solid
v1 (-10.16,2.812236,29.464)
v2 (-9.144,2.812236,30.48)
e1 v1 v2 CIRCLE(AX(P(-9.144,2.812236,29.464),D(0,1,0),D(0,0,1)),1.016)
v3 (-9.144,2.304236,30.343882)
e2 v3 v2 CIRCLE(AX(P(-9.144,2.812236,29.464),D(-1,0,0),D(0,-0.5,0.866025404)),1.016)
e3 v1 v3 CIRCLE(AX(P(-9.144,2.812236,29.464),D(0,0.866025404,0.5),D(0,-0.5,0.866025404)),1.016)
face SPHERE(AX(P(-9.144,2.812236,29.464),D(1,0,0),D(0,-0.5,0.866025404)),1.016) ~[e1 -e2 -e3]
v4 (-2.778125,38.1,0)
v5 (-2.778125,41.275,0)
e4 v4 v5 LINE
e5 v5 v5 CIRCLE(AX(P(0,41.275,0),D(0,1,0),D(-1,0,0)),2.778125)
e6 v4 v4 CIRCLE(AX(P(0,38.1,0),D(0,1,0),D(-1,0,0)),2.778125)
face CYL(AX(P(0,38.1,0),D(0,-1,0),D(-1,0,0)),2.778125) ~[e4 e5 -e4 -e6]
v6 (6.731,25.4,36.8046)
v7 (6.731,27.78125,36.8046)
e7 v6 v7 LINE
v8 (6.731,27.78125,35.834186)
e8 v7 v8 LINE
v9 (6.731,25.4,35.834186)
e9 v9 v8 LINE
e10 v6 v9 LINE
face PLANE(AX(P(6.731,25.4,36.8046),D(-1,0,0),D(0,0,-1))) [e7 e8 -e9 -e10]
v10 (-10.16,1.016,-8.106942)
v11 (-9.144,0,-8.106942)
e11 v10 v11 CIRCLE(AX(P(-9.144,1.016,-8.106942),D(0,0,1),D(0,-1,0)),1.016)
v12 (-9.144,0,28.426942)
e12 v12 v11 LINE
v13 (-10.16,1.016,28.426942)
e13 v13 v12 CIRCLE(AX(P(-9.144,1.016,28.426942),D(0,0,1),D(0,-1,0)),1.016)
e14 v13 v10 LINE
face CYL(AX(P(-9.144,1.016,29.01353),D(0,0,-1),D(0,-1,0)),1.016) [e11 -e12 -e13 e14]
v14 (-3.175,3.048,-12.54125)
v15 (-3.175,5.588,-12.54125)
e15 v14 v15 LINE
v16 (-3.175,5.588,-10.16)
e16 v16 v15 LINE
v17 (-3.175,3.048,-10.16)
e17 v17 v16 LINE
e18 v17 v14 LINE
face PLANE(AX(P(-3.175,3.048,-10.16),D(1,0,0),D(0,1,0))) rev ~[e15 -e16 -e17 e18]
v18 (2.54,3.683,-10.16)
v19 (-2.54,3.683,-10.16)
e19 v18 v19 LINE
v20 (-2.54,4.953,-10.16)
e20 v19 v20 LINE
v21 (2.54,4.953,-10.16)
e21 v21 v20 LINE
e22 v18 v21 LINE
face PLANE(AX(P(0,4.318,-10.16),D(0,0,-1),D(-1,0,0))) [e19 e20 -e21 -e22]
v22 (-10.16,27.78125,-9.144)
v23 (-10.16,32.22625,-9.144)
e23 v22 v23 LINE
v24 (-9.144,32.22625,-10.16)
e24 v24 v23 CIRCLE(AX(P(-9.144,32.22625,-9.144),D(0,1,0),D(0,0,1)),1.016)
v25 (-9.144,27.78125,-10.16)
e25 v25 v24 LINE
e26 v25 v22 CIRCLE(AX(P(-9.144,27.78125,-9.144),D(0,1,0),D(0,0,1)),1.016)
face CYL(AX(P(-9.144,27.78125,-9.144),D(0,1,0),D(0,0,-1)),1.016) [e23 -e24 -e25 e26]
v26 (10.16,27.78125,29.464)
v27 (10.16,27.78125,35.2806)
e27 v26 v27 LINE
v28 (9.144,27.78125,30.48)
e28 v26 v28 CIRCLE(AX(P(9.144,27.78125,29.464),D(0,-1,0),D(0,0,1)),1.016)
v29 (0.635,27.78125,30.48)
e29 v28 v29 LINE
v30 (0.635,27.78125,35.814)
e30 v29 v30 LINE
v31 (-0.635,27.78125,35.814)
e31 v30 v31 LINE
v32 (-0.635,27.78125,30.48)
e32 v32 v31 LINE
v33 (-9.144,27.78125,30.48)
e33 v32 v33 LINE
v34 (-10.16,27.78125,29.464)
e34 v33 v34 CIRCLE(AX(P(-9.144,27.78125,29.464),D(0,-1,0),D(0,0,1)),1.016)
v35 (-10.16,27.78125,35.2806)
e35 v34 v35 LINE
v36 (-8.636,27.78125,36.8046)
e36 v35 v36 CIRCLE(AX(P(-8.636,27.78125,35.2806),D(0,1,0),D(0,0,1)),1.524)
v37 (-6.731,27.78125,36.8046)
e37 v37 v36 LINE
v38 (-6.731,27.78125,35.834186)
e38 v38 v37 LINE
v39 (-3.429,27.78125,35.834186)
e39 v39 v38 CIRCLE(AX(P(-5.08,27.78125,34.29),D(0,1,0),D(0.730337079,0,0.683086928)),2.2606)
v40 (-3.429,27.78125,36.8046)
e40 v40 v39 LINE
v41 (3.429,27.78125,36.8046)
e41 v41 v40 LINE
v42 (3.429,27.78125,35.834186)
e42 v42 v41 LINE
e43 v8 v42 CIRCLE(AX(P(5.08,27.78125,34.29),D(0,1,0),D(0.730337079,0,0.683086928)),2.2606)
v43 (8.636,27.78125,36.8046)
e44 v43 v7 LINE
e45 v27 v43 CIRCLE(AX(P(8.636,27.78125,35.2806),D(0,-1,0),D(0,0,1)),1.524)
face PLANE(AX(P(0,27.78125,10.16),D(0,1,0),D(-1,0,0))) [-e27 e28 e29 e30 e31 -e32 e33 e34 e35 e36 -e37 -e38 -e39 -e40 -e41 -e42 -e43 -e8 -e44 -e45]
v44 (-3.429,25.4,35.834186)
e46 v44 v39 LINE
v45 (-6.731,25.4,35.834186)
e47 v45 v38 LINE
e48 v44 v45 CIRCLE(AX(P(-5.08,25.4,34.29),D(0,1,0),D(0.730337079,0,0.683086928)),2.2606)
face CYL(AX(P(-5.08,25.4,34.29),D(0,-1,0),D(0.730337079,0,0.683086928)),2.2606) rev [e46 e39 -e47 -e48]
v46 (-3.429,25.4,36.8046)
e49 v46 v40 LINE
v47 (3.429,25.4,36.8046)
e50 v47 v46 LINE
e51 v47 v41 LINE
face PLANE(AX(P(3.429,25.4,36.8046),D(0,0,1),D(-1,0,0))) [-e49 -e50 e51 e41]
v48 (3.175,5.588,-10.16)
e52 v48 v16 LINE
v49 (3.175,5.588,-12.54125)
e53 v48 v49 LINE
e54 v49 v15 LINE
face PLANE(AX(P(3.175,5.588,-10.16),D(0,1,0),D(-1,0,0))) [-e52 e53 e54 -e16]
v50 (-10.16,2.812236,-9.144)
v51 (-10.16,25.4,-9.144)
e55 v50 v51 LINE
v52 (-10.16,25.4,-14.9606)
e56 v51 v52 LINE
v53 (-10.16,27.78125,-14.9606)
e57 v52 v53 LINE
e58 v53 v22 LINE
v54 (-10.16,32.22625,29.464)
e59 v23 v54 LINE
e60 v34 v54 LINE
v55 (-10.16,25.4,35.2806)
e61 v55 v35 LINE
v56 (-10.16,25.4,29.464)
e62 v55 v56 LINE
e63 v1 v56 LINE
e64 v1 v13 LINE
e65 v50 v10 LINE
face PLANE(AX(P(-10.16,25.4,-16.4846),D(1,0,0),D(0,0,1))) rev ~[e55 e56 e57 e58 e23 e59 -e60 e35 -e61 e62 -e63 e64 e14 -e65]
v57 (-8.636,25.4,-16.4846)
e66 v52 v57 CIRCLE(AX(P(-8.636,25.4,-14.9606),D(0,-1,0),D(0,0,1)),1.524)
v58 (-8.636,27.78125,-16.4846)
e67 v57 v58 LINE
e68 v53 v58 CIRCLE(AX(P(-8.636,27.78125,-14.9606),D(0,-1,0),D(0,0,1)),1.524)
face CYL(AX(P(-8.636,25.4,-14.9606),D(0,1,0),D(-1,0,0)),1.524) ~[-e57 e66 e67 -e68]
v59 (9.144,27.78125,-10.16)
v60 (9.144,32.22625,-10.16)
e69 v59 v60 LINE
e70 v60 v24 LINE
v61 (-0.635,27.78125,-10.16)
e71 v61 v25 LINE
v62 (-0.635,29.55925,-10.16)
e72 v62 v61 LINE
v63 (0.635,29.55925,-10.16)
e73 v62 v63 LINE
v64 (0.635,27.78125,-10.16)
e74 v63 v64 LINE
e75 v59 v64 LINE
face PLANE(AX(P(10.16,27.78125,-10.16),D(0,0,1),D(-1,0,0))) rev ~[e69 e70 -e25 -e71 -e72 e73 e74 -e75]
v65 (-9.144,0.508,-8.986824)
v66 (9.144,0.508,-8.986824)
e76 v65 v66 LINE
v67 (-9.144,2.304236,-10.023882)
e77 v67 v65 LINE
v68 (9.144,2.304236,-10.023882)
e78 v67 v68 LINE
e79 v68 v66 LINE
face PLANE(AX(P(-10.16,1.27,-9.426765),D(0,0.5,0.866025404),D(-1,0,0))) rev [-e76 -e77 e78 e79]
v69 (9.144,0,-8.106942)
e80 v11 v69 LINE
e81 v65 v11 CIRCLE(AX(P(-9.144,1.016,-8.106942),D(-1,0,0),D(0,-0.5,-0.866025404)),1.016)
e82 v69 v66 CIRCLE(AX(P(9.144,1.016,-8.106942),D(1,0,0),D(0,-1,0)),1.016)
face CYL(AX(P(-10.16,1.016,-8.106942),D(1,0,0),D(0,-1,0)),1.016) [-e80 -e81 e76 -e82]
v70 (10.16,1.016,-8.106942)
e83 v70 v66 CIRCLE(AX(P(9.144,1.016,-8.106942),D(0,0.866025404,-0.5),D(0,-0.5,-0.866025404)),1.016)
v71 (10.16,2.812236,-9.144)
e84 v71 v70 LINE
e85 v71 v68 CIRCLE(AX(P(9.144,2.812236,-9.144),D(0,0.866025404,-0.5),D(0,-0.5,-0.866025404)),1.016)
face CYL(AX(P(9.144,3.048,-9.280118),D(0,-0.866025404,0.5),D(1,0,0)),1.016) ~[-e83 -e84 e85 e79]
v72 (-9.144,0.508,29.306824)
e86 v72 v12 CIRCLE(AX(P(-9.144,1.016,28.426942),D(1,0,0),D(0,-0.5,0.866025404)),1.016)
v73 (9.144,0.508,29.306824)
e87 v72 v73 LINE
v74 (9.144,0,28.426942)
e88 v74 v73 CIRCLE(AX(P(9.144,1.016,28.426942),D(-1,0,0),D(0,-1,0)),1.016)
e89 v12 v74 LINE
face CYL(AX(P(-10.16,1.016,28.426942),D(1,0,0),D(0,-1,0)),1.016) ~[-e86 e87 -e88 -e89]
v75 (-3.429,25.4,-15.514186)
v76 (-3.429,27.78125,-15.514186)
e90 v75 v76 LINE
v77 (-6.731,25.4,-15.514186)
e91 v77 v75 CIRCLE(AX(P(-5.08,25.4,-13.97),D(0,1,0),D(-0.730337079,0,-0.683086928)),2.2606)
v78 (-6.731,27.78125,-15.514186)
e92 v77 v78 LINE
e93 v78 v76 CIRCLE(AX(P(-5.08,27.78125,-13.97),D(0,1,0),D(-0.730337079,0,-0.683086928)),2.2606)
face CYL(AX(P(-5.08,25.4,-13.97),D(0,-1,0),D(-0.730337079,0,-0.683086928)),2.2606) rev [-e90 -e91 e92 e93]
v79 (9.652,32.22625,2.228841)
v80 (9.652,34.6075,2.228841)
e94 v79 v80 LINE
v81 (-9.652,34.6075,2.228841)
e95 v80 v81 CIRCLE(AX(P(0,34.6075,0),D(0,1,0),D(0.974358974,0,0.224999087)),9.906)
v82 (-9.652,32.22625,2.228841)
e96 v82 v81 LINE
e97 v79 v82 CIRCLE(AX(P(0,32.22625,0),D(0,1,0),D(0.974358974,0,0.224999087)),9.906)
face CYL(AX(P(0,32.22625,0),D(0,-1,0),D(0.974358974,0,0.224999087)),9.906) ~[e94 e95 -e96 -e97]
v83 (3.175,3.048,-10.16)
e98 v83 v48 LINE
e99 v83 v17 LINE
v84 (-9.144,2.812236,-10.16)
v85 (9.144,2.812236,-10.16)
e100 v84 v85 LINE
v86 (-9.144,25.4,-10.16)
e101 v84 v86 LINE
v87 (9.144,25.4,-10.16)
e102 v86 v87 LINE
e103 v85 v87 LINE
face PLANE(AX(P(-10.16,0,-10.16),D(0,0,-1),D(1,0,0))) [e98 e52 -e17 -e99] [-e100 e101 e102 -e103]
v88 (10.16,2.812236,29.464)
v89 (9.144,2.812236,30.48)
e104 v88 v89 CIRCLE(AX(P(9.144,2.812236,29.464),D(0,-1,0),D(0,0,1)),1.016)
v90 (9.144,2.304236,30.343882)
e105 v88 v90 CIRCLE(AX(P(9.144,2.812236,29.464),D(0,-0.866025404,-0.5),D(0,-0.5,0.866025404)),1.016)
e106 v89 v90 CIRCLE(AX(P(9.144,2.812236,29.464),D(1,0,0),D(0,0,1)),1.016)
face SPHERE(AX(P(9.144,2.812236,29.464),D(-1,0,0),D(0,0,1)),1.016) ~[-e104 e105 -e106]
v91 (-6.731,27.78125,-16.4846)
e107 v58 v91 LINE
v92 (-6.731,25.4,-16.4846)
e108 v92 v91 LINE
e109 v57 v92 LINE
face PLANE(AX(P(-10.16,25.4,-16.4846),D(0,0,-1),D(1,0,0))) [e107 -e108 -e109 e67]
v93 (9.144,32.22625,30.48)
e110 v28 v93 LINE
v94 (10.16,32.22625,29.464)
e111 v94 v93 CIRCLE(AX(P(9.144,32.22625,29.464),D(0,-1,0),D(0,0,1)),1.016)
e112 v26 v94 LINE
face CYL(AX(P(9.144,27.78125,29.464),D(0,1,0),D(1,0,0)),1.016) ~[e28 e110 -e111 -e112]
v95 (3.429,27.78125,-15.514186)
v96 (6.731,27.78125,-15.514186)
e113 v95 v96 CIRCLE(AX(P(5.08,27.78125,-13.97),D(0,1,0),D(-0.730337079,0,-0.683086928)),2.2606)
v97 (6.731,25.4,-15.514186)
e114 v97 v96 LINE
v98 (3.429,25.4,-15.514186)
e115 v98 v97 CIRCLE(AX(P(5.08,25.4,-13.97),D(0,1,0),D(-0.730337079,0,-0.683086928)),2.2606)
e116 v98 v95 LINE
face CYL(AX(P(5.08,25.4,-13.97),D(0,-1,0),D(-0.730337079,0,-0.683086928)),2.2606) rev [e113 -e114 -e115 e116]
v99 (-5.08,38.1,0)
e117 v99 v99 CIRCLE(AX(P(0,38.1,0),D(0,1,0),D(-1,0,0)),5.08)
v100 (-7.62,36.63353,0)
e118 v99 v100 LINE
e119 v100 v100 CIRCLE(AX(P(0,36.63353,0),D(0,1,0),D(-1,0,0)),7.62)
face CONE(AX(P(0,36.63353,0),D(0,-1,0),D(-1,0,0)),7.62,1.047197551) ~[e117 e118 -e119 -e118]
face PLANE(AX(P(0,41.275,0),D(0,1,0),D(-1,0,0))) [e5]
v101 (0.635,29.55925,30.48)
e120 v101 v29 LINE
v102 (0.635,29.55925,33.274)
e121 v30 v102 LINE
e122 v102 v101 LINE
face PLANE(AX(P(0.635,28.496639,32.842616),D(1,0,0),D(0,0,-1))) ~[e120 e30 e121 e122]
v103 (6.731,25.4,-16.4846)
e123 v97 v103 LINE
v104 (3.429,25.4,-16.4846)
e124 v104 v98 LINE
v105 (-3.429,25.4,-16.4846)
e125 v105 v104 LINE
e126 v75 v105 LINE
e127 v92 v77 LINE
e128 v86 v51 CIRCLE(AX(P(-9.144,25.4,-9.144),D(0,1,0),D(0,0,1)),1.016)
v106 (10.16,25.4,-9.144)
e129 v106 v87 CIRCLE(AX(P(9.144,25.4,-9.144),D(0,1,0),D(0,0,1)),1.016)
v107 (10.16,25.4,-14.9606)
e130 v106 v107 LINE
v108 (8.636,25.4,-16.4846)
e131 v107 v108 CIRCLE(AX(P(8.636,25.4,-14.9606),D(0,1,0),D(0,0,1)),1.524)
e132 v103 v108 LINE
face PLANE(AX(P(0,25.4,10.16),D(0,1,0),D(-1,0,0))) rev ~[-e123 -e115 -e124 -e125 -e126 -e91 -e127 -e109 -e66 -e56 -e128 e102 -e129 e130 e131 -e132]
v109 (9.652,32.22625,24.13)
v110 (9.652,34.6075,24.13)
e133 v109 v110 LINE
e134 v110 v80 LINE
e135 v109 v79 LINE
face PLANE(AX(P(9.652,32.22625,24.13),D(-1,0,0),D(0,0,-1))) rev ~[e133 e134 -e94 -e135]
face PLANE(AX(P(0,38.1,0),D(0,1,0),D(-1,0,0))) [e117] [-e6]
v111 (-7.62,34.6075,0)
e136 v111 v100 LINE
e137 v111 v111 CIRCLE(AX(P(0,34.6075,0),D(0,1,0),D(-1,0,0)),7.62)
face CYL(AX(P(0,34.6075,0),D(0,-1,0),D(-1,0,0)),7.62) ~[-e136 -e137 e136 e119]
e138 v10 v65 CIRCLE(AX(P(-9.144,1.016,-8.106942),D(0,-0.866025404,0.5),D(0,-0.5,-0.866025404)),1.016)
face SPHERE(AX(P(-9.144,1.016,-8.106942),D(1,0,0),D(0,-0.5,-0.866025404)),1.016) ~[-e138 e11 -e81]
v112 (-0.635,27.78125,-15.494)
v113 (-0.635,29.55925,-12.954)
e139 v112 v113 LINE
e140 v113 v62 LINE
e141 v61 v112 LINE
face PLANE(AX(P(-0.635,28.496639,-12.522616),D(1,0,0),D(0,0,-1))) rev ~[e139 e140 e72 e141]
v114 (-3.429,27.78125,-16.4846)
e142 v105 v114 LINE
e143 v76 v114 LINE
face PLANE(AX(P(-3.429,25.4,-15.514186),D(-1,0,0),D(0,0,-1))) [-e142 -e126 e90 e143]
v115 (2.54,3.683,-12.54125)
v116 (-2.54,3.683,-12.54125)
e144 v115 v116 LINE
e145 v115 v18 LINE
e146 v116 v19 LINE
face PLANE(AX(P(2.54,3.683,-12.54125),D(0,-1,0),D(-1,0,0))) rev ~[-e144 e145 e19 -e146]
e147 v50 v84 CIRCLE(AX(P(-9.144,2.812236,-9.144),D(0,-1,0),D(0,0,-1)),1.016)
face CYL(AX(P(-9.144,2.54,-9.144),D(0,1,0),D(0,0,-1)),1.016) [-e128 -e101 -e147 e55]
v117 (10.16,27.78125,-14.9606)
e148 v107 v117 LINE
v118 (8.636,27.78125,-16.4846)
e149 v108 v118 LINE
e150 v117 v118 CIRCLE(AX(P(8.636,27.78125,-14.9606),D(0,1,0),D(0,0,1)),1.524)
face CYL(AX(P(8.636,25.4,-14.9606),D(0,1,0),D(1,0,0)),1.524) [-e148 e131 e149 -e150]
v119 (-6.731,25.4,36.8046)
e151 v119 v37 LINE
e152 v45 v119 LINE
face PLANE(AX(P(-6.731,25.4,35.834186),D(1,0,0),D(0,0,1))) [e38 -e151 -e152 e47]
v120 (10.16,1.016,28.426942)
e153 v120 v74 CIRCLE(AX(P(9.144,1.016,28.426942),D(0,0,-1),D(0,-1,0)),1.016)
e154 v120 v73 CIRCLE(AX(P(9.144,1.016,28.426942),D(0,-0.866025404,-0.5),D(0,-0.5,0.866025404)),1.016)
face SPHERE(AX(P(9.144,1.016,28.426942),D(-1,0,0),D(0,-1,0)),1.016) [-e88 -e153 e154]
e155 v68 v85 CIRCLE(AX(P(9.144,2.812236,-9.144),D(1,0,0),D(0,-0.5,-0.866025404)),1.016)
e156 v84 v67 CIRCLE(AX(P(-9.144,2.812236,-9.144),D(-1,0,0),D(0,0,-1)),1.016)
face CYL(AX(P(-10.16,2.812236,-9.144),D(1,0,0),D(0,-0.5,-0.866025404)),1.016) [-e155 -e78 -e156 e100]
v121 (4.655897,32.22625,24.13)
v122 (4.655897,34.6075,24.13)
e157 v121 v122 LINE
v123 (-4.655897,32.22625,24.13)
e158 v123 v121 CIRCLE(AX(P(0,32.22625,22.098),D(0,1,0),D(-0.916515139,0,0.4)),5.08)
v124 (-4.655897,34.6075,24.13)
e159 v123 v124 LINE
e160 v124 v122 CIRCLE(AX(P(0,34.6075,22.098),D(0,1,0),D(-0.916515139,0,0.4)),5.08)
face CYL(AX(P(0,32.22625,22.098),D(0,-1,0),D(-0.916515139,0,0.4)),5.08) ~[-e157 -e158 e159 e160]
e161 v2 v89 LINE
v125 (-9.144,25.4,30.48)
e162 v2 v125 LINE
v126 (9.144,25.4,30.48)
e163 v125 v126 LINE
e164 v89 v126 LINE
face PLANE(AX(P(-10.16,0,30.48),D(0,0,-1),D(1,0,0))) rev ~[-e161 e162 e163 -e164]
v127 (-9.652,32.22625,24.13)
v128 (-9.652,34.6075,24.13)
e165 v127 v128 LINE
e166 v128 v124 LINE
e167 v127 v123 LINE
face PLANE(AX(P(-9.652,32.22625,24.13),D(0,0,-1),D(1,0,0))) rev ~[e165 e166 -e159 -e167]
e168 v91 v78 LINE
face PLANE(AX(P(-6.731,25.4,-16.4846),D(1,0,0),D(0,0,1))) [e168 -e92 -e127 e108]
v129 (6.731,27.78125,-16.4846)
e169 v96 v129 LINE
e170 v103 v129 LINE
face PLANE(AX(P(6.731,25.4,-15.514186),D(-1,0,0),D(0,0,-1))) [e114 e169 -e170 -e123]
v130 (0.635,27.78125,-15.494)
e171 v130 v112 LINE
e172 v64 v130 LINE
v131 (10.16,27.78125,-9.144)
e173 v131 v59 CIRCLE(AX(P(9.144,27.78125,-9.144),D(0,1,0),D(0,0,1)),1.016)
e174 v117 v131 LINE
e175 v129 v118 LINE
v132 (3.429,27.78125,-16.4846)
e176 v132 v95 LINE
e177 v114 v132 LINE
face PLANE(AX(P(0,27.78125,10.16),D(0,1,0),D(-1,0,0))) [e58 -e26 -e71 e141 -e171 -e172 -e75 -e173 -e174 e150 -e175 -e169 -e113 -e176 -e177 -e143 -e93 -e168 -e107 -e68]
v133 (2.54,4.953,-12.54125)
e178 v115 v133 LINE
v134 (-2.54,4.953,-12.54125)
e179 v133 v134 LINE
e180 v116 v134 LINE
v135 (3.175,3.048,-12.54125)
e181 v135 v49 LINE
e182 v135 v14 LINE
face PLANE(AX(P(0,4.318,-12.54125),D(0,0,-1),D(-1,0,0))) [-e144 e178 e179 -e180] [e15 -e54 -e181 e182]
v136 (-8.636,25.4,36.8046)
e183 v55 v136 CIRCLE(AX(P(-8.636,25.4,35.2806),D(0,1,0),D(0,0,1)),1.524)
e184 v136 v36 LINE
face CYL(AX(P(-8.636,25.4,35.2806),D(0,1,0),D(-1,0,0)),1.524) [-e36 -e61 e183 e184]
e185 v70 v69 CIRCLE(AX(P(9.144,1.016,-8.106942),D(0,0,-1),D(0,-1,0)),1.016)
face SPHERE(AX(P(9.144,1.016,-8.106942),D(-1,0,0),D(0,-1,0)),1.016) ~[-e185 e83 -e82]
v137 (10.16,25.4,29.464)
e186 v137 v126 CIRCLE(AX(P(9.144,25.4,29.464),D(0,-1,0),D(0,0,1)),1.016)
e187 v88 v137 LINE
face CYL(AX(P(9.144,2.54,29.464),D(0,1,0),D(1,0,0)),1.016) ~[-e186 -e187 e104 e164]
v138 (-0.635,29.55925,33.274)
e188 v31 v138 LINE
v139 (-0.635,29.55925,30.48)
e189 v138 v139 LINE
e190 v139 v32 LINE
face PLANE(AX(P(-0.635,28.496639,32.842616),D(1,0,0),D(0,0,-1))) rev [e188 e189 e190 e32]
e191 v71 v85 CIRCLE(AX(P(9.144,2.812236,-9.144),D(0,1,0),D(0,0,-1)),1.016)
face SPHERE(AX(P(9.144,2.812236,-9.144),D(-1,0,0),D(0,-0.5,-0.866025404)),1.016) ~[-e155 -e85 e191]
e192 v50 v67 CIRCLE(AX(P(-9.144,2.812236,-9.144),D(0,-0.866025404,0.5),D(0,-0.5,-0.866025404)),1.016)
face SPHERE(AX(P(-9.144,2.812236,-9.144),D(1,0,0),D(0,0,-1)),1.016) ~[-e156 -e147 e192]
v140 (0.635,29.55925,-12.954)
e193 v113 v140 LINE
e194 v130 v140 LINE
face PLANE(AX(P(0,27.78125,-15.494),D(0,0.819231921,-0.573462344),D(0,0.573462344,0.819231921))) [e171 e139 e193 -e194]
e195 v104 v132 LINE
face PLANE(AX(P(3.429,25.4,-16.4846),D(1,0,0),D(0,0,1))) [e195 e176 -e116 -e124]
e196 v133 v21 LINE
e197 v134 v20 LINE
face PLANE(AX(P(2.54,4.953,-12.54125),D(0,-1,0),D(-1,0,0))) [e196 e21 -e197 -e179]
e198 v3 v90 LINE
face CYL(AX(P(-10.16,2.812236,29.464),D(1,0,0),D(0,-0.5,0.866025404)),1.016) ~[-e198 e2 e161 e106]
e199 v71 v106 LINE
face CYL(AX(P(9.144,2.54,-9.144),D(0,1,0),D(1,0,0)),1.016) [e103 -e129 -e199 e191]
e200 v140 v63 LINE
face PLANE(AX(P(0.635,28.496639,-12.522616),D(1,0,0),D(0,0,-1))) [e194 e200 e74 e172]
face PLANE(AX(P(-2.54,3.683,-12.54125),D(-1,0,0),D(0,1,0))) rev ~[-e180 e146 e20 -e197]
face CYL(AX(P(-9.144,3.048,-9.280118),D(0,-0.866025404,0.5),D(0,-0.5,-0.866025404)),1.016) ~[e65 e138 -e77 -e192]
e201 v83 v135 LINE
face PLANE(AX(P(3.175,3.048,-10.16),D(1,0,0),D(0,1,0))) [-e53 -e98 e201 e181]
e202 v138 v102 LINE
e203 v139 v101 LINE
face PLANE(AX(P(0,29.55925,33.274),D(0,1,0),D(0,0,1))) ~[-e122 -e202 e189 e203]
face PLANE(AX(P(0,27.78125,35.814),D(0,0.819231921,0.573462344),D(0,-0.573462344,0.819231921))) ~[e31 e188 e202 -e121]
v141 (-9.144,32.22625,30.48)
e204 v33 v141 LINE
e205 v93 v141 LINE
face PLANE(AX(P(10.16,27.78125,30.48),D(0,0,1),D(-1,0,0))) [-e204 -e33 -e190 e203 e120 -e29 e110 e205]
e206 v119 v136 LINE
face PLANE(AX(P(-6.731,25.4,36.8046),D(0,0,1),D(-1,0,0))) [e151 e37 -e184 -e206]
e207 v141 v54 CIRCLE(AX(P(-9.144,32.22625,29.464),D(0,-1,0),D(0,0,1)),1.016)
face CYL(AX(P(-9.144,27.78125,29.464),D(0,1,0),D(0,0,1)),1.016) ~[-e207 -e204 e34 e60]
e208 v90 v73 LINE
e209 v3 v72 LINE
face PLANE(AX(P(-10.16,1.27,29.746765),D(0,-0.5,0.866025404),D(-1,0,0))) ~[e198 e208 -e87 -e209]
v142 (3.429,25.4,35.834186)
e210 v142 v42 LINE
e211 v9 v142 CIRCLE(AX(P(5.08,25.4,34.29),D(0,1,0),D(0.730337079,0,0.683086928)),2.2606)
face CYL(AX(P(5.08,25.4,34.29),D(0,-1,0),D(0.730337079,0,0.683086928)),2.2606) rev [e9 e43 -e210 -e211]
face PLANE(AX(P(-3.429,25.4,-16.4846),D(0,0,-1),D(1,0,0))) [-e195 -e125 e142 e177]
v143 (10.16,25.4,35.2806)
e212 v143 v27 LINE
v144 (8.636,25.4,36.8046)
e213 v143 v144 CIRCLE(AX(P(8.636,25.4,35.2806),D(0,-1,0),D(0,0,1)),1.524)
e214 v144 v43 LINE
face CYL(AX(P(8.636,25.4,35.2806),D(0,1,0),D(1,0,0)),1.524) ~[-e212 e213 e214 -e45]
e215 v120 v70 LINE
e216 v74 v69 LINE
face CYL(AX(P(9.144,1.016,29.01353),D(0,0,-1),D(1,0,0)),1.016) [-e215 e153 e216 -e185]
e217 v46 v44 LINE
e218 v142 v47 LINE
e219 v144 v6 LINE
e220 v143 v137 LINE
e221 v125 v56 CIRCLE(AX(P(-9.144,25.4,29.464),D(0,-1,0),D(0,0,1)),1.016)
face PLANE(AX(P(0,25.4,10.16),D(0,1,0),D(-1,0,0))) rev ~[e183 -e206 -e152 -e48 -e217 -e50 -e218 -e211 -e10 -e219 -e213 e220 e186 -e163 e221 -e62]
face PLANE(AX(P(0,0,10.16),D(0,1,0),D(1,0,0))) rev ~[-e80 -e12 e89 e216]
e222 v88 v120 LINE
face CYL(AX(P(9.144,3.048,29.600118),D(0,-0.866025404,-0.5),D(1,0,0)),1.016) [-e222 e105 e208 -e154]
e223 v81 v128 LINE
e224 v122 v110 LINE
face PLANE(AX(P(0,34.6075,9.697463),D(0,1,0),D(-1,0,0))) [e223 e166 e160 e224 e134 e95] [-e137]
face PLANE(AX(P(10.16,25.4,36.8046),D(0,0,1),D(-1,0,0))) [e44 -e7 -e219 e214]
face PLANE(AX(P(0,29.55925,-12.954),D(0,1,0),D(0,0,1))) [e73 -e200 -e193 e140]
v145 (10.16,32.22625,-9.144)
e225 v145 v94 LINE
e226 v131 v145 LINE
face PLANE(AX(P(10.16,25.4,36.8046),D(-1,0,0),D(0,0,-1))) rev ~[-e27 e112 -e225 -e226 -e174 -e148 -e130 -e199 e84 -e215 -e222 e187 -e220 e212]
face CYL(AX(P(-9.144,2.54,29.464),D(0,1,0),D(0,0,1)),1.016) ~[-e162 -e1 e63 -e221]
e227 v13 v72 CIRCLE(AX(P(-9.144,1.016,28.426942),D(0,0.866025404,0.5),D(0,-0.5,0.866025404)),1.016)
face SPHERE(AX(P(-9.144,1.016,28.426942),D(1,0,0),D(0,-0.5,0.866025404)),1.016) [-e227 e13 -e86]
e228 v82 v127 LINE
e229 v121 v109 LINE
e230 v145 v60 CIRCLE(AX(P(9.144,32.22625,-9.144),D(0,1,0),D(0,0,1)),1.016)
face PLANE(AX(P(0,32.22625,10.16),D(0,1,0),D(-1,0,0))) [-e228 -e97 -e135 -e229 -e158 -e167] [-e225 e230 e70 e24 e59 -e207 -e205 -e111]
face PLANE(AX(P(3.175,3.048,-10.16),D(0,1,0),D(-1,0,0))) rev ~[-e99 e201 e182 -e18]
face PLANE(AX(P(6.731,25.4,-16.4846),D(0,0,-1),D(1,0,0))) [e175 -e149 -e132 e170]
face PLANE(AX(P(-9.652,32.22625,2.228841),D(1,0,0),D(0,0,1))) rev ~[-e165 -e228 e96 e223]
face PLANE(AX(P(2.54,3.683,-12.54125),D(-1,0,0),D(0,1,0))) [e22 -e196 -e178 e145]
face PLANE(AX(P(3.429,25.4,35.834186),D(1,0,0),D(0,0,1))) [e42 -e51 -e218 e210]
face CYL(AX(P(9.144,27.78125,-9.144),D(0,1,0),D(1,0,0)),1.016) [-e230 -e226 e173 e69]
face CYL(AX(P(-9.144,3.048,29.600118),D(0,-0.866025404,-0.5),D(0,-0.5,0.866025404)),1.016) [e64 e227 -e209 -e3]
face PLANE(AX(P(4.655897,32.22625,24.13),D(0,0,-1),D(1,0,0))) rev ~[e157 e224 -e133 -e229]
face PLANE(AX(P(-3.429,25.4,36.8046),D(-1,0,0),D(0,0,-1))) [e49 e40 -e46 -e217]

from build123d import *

# Parameters (mm, degrees)
SKETCH1_W             = 20.32
SKETCH1_H             = 40.64
EXTRUDE1_DEPTH        = 25.4
SKETCH2_W             = 20.32
SKETCH2_H             = 40.64
EXTRUDE2_DEPTH        = 2.38125
SKETCH3_W             = 20.32
SKETCH3_H             = 40.64
EXTRUDE3_DEPTH        = 4.445
EXTRUDE4_DEPTH        = 2.38125
SKETCH5_R             = 7.62
EXTRUDE5_DEPTH        = 3.4925
CHAMFER1_SIZE         = 2.54
CHAMFER1_SIZE2        = 1.466469684
EXTRUDE6_DEPTH        = 0.635
SKETCH8_R             = 2.778125
EXTRUDE7_DEPTH        = 3.175
CHAMFER2_SIZE         = 2.54
CHAMFER2_SIZE2        = 1.466469684
CHAMFER2_PART_2_SIZE  = 2.54
CHAMFER2_PART_2_SIZE2 = 1.466469684
FILLET1_R             = 1.016
FILLET2_R             = 1.524
SKETCH9_W             = 6.35
SKETCH9_H             = 2.54
EXTRUDE8_DEPTH        = 2.38125
SKETCH10_W            = 5.08
SKETCH10_H            = 1.27
CUT_EXTRUDE1_DEPTH    = 2.38125


with BuildPart() as part:
    # Sketch1 → Extrude1 (new body)
    with BuildSketch(Plane(origin=(0, 0, 0), x_dir=(1, 0, 0), z_dir=(0, 1, 0))):
        with Locations((0, -10.16)):
            Rectangle(SKETCH1_W, SKETCH1_H)
    extrude(amount=EXTRUDE1_DEPTH)

    # Sketch2 → Extrude2 (add)
    with BuildSketch(Plane(origin=(0, 25.4, 0), x_dir=(-1, 0, 0), z_dir=(0, 1, 0))):
        with Locations((0, 10.16)):
            Rectangle(SKETCH2_W, SKETCH2_H)
        with BuildLine():
            ThreePointArc((6.731, -15.51418631), (5.08, -11.7094), (3.429, -15.51418631))
            Line((3.429, -15.51418631), (3.429, -16.4846))
            Line((3.429, -16.4846), (-3.429, -16.4846))
            Line((-3.429, -16.4846), (-3.429, -15.51418631))
            ThreePointArc((-3.429, -15.51418631), (-5.08, -11.7094), (-6.731, -15.51418631))
            Line((-6.731, -15.51418631), (-6.731, -16.4846))
            Line((-6.731, -16.4846), (-10.16, -16.4846))
            Line((-10.16, -16.4846), (-10.16, -10.16))
            Line((-10.16, -10.16), (10.16, -10.16))
            Line((10.16, -10.16), (10.16, -16.4846))
            Line((10.16, -16.4846), (6.731, -16.4846))
            Line((6.731, -16.4846), (6.731, -15.51418631))
        make_face()
        with BuildLine():
            ThreePointArc((-6.731, 35.83418631), (-5.08, 32.0294), (-3.429, 35.83418631))
            Line((-3.429, 35.83418631), (-3.429, 36.8046))
            Line((-3.429, 36.8046), (3.429, 36.8046))
            Line((3.429, 36.8046), (3.429, 35.83418631))
            ThreePointArc((3.429, 35.83418631), (5.08, 32.0294), (6.731, 35.83418631))
            Line((6.731, 35.83418631), (6.731, 36.8046))
            Line((6.731, 36.8046), (10.16, 36.8046))
            Line((10.16, 36.8046), (10.16, 30.48))
            Line((10.16, 30.48), (-10.16, 30.48))
            Line((-10.16, 30.48), (-10.16, 36.8046))
            Line((-10.16, 36.8046), (-6.731, 36.8046))
            Line((-6.731, 36.8046), (-6.731, 35.83418631))
        make_face()
    extrude(amount=EXTRUDE2_DEPTH)

    # Sketch3 → Extrude3 (add)
    with BuildSketch(Plane(origin=(0, 27.78125, 0), x_dir=(-1, 0, 0), z_dir=(0, 1, 0))):
        with Locations((0, 10.16)):
            Rectangle(SKETCH3_W, SKETCH3_H)
    extrude(amount=EXTRUDE3_DEPTH)

    # Sketch4 → Extrude4 (add)
    with BuildSketch(Plane(origin=(0, 32.22625, 0), x_dir=(-1, 0, 0), z_dir=(0, 1, 0))):
        with BuildLine():
            Line((9.652, 2.228840954), (9.652, 24.13))
            Line((9.652, 24.13), (4.655896906, 24.13))
            ThreePointArc((4.655896906, 24.13), (0, 27.178), (-4.655896906, 24.13))
            Line((-4.655896906, 24.13), (-9.652, 24.13))
            Line((-9.652, 24.13), (-9.652, 2.228840954))
            ThreePointArc((-9.652, 2.228840954), (0, -9.906), (9.652, 2.228840954))
        make_face()
    extrude(amount=EXTRUDE4_DEPTH)

    # Sketch5 → Extrude5 (add)
    with BuildSketch(Plane(origin=(0, 34.6075, 0), x_dir=(-1, 0, 0), z_dir=(0, 1, 0))):
        Circle(SKETCH5_R)
    extrude(amount=EXTRUDE5_DEPTH)

    # Chamfer1
    chamfer1_edges = [part.edges().sort_by_distance(p)[0] for p in [
        (7.62, 38.1, 0),
    ]]
    chamfer1_side = [part.faces().sort_by_distance(p)[0] for p in [
        (0, 38.1, 0),
    ]]
    chamfer(chamfer1_edges, length=CHAMFER1_SIZE, length2=CHAMFER1_SIZE2, reference=chamfer1_side[0])

    # Sketch7 → Extrude6 (add, symmetric)
    with BuildSketch(Plane(origin=(0, 0, 0), x_dir=(0, 0, -1), z_dir=(1, 0, 0))):
        Polygon((15.494, 27.78125), (12.954, 29.55925), (10.16, 29.55925), (10.16, 27.78125), align=None)
    extrude6 = extrude(amount=EXTRUDE6_DEPTH, both=True)

    # Mirror1: Extrude6 across plane
    add(extrude6.mirror(Plane(origin=(0, 0, 10.16), x_dir=(1, 0, 0), z_dir=(0, 0, -1))))

    # Sketch8 → Extrude7 (add)
    with BuildSketch(Plane(origin=(0, 38.1, 0), x_dir=(-1, 0, 0), z_dir=(0, 1, 0))):
        Circle(SKETCH8_R)
    extrude(amount=EXTRUDE7_DEPTH)

    # Chamfer2
    chamfer2_edges = [part.edges().sort_by_distance(p)[0] for p in [
        (0, 0, -10.16),
    ]]
    chamfer2_side = [part.faces().sort_by_distance(p)[0] for p in [
        (0, 12.7, -10.16),
    ]]
    chamfer(chamfer2_edges, length=CHAMFER2_SIZE, length2=CHAMFER2_SIZE2, reference=chamfer2_side[0])

    # Chamfer2 part 2
    chamfer2_part_2_edges = [part.edges().sort_by_distance(p)[0] for p in [
        (0, 0, 30.48),
    ]]
    chamfer2_part_2_side = [part.faces().sort_by_distance(p)[0] for p in [
        (0, 12.7, 30.48),
    ]]
    chamfer(chamfer2_part_2_edges, length=CHAMFER2_PART_2_SIZE, length2=CHAMFER2_PART_2_SIZE2, reference=chamfer2_part_2_side[0])

    # Fillet1
    fillet1_edges = [part.edges().sort_by_distance(p)[0] for p in [
        (-10.16, 30.00375, -10.16),
        (10.16, 30.00375, -10.16),
        (10.16, 30.00375, 30.48),
        (10.16, 0, 10.16),
        (10.16, 1.27, -9.426765158),
        (10.16, 13.97, -10.16),
        (0, 0, -8.693530316),
        (0, 2.54, -10.16),
        (-10.16, 13.97, -10.16),
        (-10.16, 1.27, -9.426765158),
        (10.16, 13.97, 30.48),
        (10.16, 1.27, 29.746765158),
        (0, 2.54, 30.48),
        (-10.16, 0, 10.16),
        (0, 0, 29.013530316),
        (-10.16, 1.27, 29.746765158),
        (-10.16, 13.97, 30.48),
        (-10.16, 30.00375, 30.48),
    ]]
    fillet(fillet1_edges, radius=FILLET1_R)

    # Fillet2
    fillet2_edges = [part.edges().sort_by_distance(p)[0] for p in [
        (-10.16, 26.590625, 36.8046),
        (10.16, 26.590625, 36.8046),
        (-10.16, 26.590625, -16.4846),
        (10.16, 26.590625, -16.4846),
    ]]
    fillet(fillet2_edges, radius=FILLET2_R)

    # Sketch9 → Extrude8 (add)
    with BuildSketch(Plane(origin=(0, 0, -10.16), x_dir=(-1, 0, 0), z_dir=(0, 0, -1))):
        with Locations((0, 4.318)):
            Rectangle(SKETCH9_W, SKETCH9_H)
    extrude(amount=EXTRUDE8_DEPTH)

    # Sketch10 → Cut-Extrude1 (cut)
    with BuildSketch(Plane(origin=(0, 0, -12.54125), x_dir=(-1, 0, 0), z_dir=(0, 0, -1))):
        with Locations((0, 4.318)):
            Rectangle(SKETCH10_W, SKETCH10_H)
    extrude(amount=-CUT_EXTRUDE1_DEPTH, mode=Mode.SUBTRACT)


solid = part.part
